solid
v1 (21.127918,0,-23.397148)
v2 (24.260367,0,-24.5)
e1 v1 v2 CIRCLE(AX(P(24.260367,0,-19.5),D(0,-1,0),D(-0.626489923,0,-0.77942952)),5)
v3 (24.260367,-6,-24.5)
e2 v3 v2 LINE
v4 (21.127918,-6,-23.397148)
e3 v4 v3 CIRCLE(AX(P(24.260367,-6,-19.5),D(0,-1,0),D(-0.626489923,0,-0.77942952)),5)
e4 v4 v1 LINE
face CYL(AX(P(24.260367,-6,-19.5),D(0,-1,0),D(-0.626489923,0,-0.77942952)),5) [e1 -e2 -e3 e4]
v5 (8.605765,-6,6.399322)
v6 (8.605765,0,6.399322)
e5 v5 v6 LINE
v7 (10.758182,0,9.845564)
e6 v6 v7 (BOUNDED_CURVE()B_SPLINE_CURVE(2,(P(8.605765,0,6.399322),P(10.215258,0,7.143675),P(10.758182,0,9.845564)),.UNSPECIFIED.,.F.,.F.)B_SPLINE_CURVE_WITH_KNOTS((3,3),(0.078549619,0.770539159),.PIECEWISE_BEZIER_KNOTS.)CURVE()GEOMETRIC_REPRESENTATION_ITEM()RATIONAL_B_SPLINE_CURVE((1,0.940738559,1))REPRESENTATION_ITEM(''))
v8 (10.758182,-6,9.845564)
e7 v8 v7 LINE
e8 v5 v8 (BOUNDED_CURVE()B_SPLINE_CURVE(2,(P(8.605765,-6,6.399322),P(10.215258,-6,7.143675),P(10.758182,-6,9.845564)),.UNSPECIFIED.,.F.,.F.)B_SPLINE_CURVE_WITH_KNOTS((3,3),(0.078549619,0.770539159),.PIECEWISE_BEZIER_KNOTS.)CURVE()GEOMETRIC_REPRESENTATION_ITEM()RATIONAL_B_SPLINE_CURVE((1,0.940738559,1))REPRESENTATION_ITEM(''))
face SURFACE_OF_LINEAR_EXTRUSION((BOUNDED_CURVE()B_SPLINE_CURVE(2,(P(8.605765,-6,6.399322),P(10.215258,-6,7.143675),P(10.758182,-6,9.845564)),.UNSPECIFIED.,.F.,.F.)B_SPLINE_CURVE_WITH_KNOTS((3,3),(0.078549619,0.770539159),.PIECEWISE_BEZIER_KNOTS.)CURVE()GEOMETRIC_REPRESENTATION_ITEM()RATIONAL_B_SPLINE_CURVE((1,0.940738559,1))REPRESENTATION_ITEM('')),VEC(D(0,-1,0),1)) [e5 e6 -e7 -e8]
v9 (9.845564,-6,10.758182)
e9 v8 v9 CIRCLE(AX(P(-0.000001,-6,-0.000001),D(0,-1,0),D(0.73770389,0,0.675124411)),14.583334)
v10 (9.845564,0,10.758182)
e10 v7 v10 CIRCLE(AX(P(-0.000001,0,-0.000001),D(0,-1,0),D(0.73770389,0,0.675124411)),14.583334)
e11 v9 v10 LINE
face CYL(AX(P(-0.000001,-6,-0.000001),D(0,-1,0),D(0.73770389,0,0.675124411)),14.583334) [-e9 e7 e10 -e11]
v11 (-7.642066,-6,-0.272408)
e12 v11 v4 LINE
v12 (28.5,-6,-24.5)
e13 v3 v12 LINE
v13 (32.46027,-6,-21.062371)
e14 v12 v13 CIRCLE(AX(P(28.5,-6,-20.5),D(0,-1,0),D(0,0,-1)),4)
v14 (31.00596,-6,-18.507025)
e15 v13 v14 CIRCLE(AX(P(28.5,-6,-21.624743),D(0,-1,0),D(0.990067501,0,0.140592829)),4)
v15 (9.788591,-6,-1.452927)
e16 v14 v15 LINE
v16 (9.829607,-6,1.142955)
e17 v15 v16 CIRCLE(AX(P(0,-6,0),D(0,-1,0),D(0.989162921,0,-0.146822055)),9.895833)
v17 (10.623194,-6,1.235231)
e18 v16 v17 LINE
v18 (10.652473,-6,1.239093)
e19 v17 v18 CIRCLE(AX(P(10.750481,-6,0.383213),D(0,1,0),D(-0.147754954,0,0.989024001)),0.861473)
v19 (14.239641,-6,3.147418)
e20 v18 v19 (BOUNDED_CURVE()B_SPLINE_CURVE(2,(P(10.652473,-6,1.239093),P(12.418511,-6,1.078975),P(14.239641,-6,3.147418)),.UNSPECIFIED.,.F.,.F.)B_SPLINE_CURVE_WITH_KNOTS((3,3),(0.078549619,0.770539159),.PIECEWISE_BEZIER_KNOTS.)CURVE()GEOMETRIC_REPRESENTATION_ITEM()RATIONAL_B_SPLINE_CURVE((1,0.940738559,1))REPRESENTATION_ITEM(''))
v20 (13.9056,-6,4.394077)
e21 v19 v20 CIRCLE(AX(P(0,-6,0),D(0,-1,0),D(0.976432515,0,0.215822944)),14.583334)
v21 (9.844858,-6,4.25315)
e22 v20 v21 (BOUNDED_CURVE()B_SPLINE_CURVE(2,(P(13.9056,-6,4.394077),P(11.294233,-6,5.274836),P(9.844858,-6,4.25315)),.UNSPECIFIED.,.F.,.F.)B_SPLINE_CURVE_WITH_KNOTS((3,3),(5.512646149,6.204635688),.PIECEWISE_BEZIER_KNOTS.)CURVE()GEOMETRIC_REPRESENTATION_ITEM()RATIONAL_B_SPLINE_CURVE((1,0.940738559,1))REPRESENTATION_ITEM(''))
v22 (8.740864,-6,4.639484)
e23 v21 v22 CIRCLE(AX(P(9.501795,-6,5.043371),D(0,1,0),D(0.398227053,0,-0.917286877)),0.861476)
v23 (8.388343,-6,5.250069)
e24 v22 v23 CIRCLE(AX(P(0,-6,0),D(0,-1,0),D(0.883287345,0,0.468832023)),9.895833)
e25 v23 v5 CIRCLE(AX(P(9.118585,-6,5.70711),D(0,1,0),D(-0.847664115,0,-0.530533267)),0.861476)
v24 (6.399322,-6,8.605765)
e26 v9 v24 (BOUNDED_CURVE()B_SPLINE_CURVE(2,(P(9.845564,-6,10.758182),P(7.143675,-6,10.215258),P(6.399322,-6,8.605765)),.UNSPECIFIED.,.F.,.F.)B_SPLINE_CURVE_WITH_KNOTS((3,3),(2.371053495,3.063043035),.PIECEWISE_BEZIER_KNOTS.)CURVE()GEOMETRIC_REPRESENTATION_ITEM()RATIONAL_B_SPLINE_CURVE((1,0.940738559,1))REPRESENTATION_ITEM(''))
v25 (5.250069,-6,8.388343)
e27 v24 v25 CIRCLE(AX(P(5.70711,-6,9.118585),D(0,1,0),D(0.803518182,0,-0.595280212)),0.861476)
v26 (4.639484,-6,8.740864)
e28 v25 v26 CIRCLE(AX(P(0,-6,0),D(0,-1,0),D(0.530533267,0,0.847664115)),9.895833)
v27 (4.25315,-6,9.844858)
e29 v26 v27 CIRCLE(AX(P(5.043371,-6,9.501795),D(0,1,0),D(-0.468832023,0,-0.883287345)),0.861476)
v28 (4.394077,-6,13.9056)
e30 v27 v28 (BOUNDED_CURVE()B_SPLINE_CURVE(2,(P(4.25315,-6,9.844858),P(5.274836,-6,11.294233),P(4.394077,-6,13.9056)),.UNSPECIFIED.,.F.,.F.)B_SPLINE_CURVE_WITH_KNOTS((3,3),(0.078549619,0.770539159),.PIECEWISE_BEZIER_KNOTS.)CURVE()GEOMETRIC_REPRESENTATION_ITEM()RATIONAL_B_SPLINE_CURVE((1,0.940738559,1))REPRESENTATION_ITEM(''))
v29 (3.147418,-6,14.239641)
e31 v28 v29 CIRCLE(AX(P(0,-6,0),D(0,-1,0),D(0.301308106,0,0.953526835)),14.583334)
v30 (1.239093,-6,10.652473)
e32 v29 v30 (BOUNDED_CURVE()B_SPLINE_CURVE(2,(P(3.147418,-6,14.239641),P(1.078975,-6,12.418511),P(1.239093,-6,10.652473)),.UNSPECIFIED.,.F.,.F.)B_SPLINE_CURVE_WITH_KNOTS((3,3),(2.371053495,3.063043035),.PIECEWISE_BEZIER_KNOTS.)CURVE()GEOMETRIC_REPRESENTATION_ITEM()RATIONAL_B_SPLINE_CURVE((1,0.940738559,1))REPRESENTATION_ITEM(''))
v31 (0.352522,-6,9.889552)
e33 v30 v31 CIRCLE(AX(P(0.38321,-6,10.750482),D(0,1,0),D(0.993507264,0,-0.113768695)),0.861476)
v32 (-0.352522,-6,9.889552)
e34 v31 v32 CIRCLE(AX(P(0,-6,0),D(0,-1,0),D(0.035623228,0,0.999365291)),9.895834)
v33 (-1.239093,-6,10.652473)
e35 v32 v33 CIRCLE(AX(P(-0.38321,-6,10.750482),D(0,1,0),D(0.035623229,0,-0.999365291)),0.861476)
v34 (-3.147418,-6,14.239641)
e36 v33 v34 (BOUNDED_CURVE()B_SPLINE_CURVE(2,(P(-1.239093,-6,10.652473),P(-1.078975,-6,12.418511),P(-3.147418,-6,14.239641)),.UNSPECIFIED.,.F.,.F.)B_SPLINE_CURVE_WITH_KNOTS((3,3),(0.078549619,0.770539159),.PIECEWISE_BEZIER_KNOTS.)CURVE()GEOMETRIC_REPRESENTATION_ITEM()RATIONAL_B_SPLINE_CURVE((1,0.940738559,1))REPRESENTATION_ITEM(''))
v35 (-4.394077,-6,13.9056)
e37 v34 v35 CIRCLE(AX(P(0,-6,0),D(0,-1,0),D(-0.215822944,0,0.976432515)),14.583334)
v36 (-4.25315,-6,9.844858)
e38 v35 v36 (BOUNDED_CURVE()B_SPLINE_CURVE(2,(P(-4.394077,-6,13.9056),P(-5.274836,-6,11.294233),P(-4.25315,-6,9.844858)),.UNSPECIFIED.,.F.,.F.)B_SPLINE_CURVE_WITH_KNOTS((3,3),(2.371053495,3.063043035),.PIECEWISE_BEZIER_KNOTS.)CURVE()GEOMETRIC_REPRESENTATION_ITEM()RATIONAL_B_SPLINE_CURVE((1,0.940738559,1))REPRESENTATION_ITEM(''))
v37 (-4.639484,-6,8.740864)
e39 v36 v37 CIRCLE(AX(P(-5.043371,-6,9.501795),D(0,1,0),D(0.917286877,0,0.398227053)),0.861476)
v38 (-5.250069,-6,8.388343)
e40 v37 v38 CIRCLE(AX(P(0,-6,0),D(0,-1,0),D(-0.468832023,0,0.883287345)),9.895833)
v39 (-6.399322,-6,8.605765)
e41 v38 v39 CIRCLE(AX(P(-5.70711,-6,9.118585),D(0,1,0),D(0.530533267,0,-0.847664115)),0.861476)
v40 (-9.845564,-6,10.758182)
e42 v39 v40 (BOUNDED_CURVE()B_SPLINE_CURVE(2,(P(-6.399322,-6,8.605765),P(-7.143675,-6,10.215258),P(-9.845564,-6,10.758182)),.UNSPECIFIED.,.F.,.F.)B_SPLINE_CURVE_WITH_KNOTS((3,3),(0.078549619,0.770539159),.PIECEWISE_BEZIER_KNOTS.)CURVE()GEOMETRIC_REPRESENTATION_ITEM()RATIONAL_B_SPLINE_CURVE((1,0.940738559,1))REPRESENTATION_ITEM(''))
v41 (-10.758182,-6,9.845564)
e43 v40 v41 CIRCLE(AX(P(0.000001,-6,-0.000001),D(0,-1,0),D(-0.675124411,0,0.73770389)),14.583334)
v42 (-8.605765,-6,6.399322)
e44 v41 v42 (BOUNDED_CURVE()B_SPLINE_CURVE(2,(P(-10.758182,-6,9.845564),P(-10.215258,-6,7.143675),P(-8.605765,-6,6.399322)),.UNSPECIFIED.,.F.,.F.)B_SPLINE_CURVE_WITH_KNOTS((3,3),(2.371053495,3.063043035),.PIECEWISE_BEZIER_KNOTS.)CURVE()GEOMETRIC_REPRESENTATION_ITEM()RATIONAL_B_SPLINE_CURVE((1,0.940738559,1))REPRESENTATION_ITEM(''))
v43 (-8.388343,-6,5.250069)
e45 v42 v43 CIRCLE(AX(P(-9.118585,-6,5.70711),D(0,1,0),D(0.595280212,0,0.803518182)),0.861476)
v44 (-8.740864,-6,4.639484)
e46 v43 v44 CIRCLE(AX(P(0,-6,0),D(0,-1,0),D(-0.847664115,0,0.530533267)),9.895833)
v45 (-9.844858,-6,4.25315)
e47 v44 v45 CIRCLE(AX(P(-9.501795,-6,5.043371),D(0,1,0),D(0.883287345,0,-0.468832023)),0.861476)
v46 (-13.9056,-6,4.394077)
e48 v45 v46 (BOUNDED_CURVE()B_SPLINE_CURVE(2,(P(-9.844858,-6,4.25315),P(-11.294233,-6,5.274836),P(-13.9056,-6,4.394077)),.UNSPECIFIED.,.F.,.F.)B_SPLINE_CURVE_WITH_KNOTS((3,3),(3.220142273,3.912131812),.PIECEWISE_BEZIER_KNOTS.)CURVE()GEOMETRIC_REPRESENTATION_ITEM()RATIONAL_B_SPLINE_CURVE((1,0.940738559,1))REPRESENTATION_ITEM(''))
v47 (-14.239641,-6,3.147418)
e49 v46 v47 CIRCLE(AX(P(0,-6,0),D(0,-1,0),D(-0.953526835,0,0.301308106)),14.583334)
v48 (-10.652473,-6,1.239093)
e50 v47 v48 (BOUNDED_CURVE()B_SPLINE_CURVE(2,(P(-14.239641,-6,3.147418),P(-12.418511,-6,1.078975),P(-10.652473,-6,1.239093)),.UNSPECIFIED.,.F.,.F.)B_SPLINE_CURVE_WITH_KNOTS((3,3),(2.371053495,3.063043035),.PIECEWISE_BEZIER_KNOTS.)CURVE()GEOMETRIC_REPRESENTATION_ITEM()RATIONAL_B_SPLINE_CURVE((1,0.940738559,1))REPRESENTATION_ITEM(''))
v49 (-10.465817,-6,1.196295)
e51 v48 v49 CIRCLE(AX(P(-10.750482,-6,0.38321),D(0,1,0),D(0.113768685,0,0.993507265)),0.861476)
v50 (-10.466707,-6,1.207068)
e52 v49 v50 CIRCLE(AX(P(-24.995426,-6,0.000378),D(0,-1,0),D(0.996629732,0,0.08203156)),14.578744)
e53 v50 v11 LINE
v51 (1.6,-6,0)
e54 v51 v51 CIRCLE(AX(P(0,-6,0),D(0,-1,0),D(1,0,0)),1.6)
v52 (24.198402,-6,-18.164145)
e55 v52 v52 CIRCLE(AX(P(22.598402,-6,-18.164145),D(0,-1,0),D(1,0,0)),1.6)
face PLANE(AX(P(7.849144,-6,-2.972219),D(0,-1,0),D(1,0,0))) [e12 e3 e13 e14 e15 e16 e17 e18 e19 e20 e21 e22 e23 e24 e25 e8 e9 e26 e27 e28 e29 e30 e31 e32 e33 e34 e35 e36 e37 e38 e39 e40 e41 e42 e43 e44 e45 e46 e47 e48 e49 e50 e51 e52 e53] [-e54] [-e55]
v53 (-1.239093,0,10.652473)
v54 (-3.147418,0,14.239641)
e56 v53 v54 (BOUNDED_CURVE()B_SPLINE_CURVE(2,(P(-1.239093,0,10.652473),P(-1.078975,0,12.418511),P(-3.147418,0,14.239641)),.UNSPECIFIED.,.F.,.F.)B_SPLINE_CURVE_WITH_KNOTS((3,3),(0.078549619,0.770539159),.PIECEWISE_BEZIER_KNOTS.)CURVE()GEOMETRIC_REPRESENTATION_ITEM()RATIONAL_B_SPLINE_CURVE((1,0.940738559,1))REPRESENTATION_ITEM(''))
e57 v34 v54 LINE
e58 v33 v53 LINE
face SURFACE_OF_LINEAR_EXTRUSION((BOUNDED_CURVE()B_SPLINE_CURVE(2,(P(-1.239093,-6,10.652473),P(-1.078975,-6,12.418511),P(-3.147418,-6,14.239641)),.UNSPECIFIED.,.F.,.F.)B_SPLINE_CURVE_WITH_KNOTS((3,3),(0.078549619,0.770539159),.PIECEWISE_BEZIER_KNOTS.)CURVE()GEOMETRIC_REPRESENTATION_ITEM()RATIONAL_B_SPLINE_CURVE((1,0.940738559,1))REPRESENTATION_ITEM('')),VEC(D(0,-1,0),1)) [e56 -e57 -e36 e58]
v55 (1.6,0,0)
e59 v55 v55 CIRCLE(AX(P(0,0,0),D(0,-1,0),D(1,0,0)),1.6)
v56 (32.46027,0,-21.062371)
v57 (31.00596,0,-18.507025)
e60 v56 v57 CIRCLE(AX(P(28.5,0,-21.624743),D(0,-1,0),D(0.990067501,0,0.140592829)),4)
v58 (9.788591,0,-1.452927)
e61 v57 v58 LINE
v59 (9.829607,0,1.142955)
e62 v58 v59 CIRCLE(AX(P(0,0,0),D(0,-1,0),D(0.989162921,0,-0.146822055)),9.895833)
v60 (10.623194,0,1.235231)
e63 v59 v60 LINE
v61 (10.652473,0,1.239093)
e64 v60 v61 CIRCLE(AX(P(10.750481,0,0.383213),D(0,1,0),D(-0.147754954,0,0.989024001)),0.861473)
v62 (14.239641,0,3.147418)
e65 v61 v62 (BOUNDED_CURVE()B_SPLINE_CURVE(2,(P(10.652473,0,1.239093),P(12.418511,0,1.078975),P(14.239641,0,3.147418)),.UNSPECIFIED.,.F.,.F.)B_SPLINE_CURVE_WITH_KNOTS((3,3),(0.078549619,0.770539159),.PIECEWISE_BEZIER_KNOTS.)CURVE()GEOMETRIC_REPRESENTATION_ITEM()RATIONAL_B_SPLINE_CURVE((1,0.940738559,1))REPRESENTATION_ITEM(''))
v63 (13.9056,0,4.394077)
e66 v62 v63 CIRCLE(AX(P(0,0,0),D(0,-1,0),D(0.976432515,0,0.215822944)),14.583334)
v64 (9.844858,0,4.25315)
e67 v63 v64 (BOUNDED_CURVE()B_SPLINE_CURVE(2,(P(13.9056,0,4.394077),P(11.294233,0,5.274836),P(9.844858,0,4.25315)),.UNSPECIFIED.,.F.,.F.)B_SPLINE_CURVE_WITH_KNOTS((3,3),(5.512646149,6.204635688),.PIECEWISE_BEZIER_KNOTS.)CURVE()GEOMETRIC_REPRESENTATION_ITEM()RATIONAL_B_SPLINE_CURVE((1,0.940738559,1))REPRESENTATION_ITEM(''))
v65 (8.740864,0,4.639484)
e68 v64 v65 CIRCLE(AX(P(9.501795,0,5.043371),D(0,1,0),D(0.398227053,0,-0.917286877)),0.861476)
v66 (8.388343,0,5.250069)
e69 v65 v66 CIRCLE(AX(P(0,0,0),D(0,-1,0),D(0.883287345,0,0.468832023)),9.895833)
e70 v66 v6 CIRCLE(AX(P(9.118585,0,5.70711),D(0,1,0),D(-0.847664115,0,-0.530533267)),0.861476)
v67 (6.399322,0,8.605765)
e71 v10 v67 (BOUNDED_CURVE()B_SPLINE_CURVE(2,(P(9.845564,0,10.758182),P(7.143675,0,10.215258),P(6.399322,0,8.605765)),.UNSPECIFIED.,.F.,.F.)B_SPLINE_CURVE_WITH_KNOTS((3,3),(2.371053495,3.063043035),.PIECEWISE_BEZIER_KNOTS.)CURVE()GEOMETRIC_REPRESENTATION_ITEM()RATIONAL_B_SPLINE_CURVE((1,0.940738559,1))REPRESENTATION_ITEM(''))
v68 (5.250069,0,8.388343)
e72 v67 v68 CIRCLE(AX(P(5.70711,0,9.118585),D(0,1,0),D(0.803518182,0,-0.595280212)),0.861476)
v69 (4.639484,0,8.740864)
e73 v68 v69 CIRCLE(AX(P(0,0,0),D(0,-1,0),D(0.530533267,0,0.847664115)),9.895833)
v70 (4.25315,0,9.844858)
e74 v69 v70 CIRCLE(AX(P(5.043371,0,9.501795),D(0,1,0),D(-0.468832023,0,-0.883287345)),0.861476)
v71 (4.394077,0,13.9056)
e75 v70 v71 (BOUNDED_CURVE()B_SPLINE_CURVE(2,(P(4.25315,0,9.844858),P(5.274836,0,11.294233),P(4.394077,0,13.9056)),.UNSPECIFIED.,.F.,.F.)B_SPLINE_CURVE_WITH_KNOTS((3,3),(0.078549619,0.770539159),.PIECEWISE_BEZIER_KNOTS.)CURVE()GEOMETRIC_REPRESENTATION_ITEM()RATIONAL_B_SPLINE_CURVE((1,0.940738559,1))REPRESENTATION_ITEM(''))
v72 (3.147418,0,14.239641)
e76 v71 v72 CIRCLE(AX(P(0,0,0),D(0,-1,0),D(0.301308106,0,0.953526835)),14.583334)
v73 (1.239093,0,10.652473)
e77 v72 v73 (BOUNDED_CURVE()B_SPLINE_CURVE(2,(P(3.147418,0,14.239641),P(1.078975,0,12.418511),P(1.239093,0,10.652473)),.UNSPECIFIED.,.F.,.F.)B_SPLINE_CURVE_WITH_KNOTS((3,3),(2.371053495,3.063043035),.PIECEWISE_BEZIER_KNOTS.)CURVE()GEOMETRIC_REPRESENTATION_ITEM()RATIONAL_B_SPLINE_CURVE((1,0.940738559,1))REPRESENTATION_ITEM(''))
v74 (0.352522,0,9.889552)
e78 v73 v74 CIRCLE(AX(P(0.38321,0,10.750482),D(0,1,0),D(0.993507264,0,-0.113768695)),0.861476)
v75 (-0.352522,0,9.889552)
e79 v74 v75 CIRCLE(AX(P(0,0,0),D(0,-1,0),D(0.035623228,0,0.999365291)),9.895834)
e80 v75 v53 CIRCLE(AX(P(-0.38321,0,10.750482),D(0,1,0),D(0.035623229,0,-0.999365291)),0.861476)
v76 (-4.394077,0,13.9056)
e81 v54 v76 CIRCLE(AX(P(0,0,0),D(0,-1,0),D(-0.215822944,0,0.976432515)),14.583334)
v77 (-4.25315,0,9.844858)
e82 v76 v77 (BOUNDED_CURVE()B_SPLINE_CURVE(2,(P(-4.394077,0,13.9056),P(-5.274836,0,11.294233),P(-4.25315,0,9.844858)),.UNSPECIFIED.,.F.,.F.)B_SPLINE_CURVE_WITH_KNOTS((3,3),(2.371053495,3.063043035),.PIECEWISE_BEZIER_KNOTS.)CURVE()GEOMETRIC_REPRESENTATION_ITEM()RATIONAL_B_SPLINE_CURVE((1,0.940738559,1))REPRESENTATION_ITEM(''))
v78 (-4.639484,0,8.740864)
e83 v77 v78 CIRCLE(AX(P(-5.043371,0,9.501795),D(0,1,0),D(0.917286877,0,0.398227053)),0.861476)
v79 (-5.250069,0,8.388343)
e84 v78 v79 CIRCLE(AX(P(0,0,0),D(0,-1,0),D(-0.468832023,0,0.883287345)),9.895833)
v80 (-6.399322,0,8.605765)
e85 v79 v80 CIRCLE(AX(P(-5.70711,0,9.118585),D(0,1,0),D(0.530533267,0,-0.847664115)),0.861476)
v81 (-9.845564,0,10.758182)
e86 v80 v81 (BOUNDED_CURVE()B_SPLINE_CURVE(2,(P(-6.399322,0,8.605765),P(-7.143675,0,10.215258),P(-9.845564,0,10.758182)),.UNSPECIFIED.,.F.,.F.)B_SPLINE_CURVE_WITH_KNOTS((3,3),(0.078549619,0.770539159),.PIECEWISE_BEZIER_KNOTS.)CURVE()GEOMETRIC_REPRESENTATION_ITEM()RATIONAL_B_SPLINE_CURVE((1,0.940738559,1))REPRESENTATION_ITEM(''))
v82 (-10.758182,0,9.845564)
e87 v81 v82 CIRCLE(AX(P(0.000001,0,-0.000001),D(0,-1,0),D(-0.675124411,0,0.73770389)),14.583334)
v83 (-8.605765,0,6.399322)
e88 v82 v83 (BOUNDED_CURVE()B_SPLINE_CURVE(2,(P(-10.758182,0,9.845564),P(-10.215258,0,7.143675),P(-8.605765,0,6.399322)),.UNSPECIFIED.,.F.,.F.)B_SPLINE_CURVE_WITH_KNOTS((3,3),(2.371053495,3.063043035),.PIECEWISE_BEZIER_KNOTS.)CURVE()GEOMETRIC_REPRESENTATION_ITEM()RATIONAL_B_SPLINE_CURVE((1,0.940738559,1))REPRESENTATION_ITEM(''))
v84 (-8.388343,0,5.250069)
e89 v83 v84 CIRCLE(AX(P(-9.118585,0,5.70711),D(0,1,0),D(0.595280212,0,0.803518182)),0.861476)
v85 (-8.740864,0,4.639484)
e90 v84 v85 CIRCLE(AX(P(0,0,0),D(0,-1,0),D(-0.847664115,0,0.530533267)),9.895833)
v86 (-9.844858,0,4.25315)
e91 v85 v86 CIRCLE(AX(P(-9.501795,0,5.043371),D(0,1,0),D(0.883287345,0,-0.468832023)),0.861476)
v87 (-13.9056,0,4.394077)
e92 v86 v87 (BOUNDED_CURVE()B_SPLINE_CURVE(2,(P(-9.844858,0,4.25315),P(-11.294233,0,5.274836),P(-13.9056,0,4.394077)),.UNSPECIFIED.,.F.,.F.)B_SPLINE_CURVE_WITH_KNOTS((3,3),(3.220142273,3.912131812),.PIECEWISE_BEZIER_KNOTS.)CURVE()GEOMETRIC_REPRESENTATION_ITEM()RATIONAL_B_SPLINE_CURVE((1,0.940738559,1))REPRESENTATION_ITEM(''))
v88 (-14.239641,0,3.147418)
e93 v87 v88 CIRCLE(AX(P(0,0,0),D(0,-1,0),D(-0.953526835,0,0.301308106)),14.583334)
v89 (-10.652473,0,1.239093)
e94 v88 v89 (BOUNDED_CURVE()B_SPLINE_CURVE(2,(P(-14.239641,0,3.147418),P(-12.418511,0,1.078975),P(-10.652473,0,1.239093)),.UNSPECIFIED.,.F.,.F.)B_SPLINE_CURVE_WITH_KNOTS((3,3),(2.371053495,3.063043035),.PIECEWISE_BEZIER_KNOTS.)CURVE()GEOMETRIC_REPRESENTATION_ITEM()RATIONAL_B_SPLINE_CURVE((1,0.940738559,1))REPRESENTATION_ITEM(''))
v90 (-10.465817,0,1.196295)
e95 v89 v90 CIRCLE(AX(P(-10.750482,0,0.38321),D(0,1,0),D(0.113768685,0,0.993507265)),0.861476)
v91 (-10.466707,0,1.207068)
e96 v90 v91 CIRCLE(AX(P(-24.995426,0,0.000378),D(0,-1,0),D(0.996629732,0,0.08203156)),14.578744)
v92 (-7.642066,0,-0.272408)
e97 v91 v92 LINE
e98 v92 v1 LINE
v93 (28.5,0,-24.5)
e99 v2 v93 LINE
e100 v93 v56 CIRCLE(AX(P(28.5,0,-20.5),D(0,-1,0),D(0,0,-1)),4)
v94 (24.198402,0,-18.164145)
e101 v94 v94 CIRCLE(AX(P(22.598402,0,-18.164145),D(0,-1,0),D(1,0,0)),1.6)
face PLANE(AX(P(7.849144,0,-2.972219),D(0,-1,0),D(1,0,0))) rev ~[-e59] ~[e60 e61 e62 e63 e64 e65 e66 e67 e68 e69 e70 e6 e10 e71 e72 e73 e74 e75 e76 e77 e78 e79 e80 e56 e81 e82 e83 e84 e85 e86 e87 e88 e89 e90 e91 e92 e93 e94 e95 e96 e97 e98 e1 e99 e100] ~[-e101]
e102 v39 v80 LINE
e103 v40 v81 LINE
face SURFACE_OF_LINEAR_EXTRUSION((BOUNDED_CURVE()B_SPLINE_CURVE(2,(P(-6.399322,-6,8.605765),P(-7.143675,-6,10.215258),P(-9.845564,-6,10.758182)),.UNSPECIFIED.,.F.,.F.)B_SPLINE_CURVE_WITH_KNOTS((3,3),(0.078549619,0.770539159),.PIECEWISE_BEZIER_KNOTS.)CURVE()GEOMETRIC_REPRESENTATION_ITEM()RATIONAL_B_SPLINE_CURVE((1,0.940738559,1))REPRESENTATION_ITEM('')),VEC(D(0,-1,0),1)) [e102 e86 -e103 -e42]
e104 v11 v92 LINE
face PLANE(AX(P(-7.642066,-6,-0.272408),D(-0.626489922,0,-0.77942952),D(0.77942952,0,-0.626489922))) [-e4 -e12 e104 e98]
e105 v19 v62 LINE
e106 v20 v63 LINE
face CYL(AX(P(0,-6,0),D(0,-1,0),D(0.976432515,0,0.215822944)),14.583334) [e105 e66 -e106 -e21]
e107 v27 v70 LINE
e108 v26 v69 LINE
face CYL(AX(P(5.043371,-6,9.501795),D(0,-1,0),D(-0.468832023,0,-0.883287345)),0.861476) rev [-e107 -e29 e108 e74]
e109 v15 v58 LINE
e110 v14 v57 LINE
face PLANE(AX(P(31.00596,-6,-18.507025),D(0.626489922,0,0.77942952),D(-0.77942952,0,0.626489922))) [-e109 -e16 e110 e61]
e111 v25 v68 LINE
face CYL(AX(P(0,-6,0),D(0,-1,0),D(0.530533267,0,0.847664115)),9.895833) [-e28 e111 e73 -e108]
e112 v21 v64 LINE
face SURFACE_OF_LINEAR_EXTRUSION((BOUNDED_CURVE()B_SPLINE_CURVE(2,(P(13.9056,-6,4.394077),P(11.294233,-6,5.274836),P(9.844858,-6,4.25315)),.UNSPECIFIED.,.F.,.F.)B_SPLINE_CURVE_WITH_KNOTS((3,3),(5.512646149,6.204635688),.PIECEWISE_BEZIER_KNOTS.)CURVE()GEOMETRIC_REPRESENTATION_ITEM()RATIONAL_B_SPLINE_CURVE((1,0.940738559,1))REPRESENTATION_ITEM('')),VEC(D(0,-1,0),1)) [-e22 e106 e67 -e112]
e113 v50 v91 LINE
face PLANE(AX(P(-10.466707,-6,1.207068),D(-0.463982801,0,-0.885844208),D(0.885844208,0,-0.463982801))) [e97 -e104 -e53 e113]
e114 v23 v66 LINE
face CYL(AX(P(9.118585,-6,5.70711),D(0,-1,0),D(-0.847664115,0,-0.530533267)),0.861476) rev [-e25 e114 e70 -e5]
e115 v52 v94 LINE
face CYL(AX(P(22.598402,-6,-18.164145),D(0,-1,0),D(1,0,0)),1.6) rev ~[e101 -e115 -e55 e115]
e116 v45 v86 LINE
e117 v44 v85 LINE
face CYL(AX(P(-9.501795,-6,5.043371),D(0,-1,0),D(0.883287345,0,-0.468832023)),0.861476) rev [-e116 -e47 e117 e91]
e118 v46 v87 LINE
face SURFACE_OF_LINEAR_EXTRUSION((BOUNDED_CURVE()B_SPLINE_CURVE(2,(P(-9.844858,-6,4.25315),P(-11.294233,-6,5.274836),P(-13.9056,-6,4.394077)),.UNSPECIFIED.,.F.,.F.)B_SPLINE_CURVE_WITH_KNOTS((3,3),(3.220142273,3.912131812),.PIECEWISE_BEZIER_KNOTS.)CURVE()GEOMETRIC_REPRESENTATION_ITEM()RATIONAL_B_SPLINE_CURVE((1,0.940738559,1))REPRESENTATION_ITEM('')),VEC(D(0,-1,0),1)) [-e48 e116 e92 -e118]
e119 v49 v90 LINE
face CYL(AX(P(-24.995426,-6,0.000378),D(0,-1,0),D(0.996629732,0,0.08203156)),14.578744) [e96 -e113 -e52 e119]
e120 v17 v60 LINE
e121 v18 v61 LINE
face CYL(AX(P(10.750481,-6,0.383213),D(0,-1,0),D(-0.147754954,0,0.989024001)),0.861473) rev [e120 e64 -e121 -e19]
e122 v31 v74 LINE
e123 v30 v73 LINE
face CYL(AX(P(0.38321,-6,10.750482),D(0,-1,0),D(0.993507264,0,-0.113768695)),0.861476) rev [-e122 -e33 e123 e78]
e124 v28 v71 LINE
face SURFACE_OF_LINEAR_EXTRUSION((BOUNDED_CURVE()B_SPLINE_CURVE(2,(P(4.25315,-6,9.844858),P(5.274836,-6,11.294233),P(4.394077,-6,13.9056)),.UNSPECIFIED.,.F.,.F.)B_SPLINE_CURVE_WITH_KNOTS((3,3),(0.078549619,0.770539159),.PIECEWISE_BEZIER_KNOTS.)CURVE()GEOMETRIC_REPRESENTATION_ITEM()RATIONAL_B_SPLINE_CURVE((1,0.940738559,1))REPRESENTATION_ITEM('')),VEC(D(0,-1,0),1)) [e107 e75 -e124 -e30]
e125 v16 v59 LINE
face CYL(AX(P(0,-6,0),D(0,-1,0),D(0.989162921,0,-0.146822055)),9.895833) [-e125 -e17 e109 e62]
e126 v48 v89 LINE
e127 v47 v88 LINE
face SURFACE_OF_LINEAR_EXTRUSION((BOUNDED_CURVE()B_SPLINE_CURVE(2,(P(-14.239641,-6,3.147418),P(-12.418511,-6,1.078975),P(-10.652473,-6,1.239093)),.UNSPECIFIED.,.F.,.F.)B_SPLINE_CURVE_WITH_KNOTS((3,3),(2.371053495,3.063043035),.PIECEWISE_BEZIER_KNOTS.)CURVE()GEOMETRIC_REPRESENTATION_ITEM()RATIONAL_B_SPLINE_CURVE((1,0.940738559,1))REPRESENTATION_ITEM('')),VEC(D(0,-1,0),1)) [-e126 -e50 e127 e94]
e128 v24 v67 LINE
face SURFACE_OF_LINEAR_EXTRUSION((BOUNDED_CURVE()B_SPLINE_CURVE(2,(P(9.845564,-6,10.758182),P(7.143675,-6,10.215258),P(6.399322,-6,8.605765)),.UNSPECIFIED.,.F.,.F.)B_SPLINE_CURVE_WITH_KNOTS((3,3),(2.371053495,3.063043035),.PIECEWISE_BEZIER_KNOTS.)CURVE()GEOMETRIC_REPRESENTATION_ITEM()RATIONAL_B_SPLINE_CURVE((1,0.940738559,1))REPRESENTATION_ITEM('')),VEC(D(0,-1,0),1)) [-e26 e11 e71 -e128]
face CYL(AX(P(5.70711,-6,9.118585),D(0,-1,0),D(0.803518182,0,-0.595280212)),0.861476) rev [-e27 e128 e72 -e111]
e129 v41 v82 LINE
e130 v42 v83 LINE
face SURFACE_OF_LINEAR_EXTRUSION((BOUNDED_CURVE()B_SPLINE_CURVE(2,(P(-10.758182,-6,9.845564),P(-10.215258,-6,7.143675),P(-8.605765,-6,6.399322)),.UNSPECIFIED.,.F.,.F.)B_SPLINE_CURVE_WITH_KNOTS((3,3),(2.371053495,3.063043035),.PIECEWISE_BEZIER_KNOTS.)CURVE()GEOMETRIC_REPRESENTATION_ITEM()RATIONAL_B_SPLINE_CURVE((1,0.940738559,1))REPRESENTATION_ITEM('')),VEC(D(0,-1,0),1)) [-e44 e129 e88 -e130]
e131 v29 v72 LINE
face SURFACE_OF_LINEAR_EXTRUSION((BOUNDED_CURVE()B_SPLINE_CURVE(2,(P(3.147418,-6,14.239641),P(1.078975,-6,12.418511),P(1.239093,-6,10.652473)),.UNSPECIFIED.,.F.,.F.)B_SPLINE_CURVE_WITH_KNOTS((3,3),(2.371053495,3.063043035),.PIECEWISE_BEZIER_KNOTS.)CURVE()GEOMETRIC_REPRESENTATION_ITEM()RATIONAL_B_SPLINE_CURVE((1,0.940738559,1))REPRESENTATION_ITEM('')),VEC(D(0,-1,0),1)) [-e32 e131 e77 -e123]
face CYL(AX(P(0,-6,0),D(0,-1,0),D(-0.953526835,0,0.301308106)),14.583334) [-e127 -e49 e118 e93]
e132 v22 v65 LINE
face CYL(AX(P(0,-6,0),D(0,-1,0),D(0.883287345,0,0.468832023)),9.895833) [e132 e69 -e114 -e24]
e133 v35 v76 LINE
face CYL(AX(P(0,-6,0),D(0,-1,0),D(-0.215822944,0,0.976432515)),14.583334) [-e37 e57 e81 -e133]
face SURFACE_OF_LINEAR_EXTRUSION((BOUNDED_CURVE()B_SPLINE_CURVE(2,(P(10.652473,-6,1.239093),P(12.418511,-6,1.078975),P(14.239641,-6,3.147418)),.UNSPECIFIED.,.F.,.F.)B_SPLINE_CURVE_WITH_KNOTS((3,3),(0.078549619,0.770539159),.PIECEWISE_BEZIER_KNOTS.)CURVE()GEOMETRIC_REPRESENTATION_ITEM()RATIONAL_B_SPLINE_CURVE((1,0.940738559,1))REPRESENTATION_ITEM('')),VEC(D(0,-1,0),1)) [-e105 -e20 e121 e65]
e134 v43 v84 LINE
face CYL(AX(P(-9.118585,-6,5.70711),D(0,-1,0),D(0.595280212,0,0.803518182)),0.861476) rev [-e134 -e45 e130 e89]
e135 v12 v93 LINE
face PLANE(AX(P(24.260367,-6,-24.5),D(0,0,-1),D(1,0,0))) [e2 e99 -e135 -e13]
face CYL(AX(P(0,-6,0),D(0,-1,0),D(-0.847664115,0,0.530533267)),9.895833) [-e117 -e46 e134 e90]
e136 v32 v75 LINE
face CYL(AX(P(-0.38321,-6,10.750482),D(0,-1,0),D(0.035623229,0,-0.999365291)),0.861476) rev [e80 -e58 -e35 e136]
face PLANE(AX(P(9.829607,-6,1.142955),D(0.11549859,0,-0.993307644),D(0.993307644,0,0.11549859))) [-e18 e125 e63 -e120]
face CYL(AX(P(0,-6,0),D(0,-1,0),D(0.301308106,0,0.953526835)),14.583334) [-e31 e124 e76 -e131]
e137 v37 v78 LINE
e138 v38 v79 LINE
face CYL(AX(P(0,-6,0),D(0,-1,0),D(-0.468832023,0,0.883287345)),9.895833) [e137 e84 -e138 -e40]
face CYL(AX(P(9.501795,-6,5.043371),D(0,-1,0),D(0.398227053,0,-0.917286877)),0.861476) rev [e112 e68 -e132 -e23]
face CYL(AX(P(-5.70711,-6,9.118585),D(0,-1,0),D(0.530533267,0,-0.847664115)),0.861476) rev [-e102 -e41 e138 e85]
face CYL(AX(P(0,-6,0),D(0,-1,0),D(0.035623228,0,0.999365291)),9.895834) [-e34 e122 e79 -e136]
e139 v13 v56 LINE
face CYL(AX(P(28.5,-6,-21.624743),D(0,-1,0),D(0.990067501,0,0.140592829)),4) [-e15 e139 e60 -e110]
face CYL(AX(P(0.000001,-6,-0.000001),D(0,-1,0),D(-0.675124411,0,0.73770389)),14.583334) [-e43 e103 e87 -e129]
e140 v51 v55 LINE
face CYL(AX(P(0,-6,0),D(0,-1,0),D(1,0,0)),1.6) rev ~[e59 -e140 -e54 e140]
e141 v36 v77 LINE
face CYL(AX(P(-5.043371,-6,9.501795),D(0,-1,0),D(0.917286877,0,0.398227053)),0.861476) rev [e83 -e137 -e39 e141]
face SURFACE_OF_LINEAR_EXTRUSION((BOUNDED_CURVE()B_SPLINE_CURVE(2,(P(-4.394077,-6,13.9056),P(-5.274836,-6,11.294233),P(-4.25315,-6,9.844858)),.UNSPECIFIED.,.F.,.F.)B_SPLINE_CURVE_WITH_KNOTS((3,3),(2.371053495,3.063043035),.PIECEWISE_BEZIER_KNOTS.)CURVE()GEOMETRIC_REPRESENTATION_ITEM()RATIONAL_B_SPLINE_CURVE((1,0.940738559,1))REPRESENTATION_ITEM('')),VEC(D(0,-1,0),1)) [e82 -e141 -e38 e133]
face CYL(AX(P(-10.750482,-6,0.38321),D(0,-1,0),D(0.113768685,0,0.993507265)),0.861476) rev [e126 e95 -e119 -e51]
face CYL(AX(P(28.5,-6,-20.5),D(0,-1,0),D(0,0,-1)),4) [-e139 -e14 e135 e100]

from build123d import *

# Parameters (mm, degrees)
ESBO_O1_R                = 1.6
RESSALTO_EXTRUS_O1_DEPTH = 6


with BuildPart() as part:
    # Esboço1 → Ressalto-extrusão1 (new body)
    with BuildSketch(Plane.XZ.offset(6)):
        with BuildLine():
            Line((24.26036734, -24.5), (28.5, -24.5))
            ThreePointArc((28.5, -24.5), (31.122071197, -23.520718894), (32.460270003, -21.062371319))
            ThreePointArc((32.460270003, -21.062371319), (31.976417823, -19.646228266), (31.005959689, -18.507024557))
            Line((31.005959689, -18.507024557), (9.788591406, -1.452926582))
            ThreePointArc((9.788591406, -1.452926582), (9.894598333, -0.1563368), (9.829606895, 1.142954792))
            Line((9.829606895, 1.142954792), (10.623194285, 1.235230559))
            ThreePointArc((10.623194285, 1.235230559), (10.637816884, 1.237287137), (10.652472585, 1.239092776))
            add(Edge.make_bspline(
                [(10.652472585, 1.239092776), (12.4185109, 1.078975114), (14.239640851, 3.147417918)],
                knots=[0.078549619, 0.078549619, 0.078549619, 0.770539159, 0.770539159, 0.770539159], degree=2, weights=[1, 0.940738559, 1]))
            ThreePointArc((14.239640851, 3.147417918), (14.0864183, 3.774444408), (13.905599677, 4.394076552))
            add(Edge.make_bspline(
                [(13.905599677, 4.394076552), (11.294233474, 5.274835591), (9.84485826, 4.253150471)],
                knots=[5.512646149, 5.512646149, 5.512646149, 6.204635688, 6.204635688, 6.204635688], degree=2, weights=[1, 0.940738559, 1]))
            ThreePointArc((9.84485826, 4.253150471), (9.217248741, 4.230244905), (8.740864349, 4.639483569))
            ThreePointArc((8.740864349, 4.639483569), (8.570043058, 4.947916667), (8.388342806, 5.250068793))
            ThreePointArc((8.388342806, 5.250068793), (8.272123923, 5.86724911), (8.605765484, 6.399322114))
            add(Edge.make_bspline(
                [(8.605765484, 6.399322114), (10.21525836, 7.143675309), (10.758181759, 9.845564299)],
                knots=[0.078549619, 0.078549619, 0.078549619, 0.770539159, 0.770539159, 0.770539159], degree=2, weights=[1, 0.940738559, 1]))
            ThreePointArc((10.758181759, 9.845564299), (10.311973892, 10.311973892), (9.845564299, 10.758181759))
            add(Edge.make_bspline(
                [(9.845564299, 10.758181759), (7.143675309, 10.21525836), (6.399322114, 8.605765484)],
                knots=[2.371053495, 2.371053495, 2.371053495, 3.063043035, 3.063043035, 3.063043035], degree=2, weights=[1, 0.940738559, 1]))
            ThreePointArc((6.399322114, 8.605765484), (5.86724911, 8.272123923), (5.250068793, 8.388342806))
            ThreePointArc((5.250068793, 8.388342806), (4.947916667, 8.570043058), (4.639483569, 8.740864349))
            ThreePointArc((4.639483569, 8.740864349), (4.230244905, 9.217248741), (4.253150471, 9.84485826))
            add(Edge.make_bspline(
                [(4.253150471, 9.84485826), (5.274835591, 11.294233474), (4.394076552, 13.905599677)],
                knots=[0.078549619, 0.078549619, 0.078549619, 0.770539159, 0.770539159, 0.770539159], degree=2, weights=[1, 0.940738559, 1]))
            ThreePointArc((4.394076552, 13.905599677), (3.774444408, 14.0864183), (3.147417918, 14.239640851))
            add(Edge.make_bspline(
                [(3.147417918, 14.239640851), (1.078975114, 12.4185109), (1.239092776, 10.652472585)],
                knots=[2.371053495, 2.371053495, 2.371053495, 3.063043035, 3.063043035, 3.063043035], degree=2, weights=[1, 0.940738559, 1]))
            ThreePointArc((1.239092776, 10.652472585), (0.945124819, 10.097494016), (0.352521544, 9.889552362))
            ThreePointArc((0.352521544, 9.889552362), (0, 9.895833333), (-0.352521544, 9.889552362))
            ThreePointArc((-0.352521544, 9.889552362), (-0.945124819, 10.097494016), (-1.239092776, 10.652472585))
            add(Edge.make_bspline(
                [(-1.239092776, 10.652472585), (-1.078975114, 12.4185109), (-3.147417918, 14.239640851)],
                knots=[0.078549619, 0.078549619, 0.078549619, 0.770539159, 0.770539159, 0.770539159], degree=2, weights=[1, 0.940738559, 1]))
            ThreePointArc((-3.147417918, 14.239640851), (-3.774444408, 14.0864183), (-4.394076552, 13.905599677))
            add(Edge.make_bspline(
                [(-4.394076552, 13.905599677), (-5.274835591, 11.294233474), (-4.253150471, 9.84485826)],
                knots=[2.371053495, 2.371053495, 2.371053495, 3.063043035, 3.063043035, 3.063043035], degree=2, weights=[1, 0.940738559, 1]))
            ThreePointArc((-4.253150471, 9.84485826), (-4.230244905, 9.217248741), (-4.639483569, 8.740864349))
            ThreePointArc((-4.639483569, 8.740864349), (-4.947916667, 8.570043058), (-5.250068793, 8.388342806))
            ThreePointArc((-5.250068793, 8.388342806), (-5.86724911, 8.272123923), (-6.399322114, 8.605765484))
            add(Edge.make_bspline(
                [(-6.399322114, 8.605765484), (-7.143675309, 10.21525836), (-9.845564299, 10.758181759)],
                knots=[0.078549619, 0.078549619, 0.078549619, 0.770539159, 0.770539159, 0.770539159], degree=2, weights=[1, 0.940738559, 1]))
            ThreePointArc((-9.845564299, 10.758181759), (-10.311973892, 10.311973892), (-10.758181759, 9.845564299))
            add(Edge.make_bspline(
                [(-10.758181759, 9.845564299), (-10.21525836, 7.143675309), (-8.605765484, 6.399322114)],
                knots=[2.371053495, 2.371053495, 2.371053495, 3.063043035, 3.063043035, 3.063043035], degree=2, weights=[1, 0.940738559, 1]))
            ThreePointArc((-8.605765484, 6.399322114), (-8.272123923, 5.86724911), (-8.388342806, 5.250068793))
            ThreePointArc((-8.388342806, 5.250068793), (-8.570043058, 4.947916667), (-8.740864349, 4.639483569))
            ThreePointArc((-8.740864349, 4.639483569), (-9.217248741, 4.230244905), (-9.84485826, 4.253150471))
            add(Edge.make_bspline(
                [(-9.84485826, 4.253150471), (-11.294233474, 5.274835591), (-13.905599677, 4.394076552)],
                knots=[3.220142273, 3.220142273, 3.220142273, 3.912131812, 3.912131812, 3.912131812], degree=2, weights=[1, 0.940738559, 1]))
            ThreePointArc((-13.905599677, 4.394076552), (-14.0864183, 3.774444408), (-14.239640851, 3.147417918))
            add(Edge.make_bspline(
                [(-14.239640851, 3.147417918), (-12.4185109, 1.078975114), (-10.652472585, 1.239092776)],
                knots=[2.371053495, 2.371053495, 2.371053495, 3.063043035, 3.063043035, 3.063043035], degree=2, weights=[1, 0.940738559, 1]))
            ThreePointArc((-10.652472585, 1.239092776), (-10.557951639, 1.222896434), (-10.465816504, 1.196294788))
            ThreePointArc((-10.465816504, 1.196294788), (-10.466260875, 1.201681391), (-10.466707243, 1.207067829))
            Line((-10.466707243, 1.207067829), (-7.642065772, -0.272407964))
            Line((-7.642065772, -0.272407964), (21.127917729, -23.397147602))
            ThreePointArc((21.127917729, -23.397147602), (22.599906261, -24.216234622), (24.26036734, -24.5))
        make_face()
        Circle(ESBO_O1_R, mode=Mode.SUBTRACT)
        with Locations((22.598401843, -18.16414524)):
            Circle(ESBO_O1_R, mode=Mode.SUBTRACT)
    extrude(amount=-RESSALTO_EXTRUS_O1_DEPTH)


solid = part.part
